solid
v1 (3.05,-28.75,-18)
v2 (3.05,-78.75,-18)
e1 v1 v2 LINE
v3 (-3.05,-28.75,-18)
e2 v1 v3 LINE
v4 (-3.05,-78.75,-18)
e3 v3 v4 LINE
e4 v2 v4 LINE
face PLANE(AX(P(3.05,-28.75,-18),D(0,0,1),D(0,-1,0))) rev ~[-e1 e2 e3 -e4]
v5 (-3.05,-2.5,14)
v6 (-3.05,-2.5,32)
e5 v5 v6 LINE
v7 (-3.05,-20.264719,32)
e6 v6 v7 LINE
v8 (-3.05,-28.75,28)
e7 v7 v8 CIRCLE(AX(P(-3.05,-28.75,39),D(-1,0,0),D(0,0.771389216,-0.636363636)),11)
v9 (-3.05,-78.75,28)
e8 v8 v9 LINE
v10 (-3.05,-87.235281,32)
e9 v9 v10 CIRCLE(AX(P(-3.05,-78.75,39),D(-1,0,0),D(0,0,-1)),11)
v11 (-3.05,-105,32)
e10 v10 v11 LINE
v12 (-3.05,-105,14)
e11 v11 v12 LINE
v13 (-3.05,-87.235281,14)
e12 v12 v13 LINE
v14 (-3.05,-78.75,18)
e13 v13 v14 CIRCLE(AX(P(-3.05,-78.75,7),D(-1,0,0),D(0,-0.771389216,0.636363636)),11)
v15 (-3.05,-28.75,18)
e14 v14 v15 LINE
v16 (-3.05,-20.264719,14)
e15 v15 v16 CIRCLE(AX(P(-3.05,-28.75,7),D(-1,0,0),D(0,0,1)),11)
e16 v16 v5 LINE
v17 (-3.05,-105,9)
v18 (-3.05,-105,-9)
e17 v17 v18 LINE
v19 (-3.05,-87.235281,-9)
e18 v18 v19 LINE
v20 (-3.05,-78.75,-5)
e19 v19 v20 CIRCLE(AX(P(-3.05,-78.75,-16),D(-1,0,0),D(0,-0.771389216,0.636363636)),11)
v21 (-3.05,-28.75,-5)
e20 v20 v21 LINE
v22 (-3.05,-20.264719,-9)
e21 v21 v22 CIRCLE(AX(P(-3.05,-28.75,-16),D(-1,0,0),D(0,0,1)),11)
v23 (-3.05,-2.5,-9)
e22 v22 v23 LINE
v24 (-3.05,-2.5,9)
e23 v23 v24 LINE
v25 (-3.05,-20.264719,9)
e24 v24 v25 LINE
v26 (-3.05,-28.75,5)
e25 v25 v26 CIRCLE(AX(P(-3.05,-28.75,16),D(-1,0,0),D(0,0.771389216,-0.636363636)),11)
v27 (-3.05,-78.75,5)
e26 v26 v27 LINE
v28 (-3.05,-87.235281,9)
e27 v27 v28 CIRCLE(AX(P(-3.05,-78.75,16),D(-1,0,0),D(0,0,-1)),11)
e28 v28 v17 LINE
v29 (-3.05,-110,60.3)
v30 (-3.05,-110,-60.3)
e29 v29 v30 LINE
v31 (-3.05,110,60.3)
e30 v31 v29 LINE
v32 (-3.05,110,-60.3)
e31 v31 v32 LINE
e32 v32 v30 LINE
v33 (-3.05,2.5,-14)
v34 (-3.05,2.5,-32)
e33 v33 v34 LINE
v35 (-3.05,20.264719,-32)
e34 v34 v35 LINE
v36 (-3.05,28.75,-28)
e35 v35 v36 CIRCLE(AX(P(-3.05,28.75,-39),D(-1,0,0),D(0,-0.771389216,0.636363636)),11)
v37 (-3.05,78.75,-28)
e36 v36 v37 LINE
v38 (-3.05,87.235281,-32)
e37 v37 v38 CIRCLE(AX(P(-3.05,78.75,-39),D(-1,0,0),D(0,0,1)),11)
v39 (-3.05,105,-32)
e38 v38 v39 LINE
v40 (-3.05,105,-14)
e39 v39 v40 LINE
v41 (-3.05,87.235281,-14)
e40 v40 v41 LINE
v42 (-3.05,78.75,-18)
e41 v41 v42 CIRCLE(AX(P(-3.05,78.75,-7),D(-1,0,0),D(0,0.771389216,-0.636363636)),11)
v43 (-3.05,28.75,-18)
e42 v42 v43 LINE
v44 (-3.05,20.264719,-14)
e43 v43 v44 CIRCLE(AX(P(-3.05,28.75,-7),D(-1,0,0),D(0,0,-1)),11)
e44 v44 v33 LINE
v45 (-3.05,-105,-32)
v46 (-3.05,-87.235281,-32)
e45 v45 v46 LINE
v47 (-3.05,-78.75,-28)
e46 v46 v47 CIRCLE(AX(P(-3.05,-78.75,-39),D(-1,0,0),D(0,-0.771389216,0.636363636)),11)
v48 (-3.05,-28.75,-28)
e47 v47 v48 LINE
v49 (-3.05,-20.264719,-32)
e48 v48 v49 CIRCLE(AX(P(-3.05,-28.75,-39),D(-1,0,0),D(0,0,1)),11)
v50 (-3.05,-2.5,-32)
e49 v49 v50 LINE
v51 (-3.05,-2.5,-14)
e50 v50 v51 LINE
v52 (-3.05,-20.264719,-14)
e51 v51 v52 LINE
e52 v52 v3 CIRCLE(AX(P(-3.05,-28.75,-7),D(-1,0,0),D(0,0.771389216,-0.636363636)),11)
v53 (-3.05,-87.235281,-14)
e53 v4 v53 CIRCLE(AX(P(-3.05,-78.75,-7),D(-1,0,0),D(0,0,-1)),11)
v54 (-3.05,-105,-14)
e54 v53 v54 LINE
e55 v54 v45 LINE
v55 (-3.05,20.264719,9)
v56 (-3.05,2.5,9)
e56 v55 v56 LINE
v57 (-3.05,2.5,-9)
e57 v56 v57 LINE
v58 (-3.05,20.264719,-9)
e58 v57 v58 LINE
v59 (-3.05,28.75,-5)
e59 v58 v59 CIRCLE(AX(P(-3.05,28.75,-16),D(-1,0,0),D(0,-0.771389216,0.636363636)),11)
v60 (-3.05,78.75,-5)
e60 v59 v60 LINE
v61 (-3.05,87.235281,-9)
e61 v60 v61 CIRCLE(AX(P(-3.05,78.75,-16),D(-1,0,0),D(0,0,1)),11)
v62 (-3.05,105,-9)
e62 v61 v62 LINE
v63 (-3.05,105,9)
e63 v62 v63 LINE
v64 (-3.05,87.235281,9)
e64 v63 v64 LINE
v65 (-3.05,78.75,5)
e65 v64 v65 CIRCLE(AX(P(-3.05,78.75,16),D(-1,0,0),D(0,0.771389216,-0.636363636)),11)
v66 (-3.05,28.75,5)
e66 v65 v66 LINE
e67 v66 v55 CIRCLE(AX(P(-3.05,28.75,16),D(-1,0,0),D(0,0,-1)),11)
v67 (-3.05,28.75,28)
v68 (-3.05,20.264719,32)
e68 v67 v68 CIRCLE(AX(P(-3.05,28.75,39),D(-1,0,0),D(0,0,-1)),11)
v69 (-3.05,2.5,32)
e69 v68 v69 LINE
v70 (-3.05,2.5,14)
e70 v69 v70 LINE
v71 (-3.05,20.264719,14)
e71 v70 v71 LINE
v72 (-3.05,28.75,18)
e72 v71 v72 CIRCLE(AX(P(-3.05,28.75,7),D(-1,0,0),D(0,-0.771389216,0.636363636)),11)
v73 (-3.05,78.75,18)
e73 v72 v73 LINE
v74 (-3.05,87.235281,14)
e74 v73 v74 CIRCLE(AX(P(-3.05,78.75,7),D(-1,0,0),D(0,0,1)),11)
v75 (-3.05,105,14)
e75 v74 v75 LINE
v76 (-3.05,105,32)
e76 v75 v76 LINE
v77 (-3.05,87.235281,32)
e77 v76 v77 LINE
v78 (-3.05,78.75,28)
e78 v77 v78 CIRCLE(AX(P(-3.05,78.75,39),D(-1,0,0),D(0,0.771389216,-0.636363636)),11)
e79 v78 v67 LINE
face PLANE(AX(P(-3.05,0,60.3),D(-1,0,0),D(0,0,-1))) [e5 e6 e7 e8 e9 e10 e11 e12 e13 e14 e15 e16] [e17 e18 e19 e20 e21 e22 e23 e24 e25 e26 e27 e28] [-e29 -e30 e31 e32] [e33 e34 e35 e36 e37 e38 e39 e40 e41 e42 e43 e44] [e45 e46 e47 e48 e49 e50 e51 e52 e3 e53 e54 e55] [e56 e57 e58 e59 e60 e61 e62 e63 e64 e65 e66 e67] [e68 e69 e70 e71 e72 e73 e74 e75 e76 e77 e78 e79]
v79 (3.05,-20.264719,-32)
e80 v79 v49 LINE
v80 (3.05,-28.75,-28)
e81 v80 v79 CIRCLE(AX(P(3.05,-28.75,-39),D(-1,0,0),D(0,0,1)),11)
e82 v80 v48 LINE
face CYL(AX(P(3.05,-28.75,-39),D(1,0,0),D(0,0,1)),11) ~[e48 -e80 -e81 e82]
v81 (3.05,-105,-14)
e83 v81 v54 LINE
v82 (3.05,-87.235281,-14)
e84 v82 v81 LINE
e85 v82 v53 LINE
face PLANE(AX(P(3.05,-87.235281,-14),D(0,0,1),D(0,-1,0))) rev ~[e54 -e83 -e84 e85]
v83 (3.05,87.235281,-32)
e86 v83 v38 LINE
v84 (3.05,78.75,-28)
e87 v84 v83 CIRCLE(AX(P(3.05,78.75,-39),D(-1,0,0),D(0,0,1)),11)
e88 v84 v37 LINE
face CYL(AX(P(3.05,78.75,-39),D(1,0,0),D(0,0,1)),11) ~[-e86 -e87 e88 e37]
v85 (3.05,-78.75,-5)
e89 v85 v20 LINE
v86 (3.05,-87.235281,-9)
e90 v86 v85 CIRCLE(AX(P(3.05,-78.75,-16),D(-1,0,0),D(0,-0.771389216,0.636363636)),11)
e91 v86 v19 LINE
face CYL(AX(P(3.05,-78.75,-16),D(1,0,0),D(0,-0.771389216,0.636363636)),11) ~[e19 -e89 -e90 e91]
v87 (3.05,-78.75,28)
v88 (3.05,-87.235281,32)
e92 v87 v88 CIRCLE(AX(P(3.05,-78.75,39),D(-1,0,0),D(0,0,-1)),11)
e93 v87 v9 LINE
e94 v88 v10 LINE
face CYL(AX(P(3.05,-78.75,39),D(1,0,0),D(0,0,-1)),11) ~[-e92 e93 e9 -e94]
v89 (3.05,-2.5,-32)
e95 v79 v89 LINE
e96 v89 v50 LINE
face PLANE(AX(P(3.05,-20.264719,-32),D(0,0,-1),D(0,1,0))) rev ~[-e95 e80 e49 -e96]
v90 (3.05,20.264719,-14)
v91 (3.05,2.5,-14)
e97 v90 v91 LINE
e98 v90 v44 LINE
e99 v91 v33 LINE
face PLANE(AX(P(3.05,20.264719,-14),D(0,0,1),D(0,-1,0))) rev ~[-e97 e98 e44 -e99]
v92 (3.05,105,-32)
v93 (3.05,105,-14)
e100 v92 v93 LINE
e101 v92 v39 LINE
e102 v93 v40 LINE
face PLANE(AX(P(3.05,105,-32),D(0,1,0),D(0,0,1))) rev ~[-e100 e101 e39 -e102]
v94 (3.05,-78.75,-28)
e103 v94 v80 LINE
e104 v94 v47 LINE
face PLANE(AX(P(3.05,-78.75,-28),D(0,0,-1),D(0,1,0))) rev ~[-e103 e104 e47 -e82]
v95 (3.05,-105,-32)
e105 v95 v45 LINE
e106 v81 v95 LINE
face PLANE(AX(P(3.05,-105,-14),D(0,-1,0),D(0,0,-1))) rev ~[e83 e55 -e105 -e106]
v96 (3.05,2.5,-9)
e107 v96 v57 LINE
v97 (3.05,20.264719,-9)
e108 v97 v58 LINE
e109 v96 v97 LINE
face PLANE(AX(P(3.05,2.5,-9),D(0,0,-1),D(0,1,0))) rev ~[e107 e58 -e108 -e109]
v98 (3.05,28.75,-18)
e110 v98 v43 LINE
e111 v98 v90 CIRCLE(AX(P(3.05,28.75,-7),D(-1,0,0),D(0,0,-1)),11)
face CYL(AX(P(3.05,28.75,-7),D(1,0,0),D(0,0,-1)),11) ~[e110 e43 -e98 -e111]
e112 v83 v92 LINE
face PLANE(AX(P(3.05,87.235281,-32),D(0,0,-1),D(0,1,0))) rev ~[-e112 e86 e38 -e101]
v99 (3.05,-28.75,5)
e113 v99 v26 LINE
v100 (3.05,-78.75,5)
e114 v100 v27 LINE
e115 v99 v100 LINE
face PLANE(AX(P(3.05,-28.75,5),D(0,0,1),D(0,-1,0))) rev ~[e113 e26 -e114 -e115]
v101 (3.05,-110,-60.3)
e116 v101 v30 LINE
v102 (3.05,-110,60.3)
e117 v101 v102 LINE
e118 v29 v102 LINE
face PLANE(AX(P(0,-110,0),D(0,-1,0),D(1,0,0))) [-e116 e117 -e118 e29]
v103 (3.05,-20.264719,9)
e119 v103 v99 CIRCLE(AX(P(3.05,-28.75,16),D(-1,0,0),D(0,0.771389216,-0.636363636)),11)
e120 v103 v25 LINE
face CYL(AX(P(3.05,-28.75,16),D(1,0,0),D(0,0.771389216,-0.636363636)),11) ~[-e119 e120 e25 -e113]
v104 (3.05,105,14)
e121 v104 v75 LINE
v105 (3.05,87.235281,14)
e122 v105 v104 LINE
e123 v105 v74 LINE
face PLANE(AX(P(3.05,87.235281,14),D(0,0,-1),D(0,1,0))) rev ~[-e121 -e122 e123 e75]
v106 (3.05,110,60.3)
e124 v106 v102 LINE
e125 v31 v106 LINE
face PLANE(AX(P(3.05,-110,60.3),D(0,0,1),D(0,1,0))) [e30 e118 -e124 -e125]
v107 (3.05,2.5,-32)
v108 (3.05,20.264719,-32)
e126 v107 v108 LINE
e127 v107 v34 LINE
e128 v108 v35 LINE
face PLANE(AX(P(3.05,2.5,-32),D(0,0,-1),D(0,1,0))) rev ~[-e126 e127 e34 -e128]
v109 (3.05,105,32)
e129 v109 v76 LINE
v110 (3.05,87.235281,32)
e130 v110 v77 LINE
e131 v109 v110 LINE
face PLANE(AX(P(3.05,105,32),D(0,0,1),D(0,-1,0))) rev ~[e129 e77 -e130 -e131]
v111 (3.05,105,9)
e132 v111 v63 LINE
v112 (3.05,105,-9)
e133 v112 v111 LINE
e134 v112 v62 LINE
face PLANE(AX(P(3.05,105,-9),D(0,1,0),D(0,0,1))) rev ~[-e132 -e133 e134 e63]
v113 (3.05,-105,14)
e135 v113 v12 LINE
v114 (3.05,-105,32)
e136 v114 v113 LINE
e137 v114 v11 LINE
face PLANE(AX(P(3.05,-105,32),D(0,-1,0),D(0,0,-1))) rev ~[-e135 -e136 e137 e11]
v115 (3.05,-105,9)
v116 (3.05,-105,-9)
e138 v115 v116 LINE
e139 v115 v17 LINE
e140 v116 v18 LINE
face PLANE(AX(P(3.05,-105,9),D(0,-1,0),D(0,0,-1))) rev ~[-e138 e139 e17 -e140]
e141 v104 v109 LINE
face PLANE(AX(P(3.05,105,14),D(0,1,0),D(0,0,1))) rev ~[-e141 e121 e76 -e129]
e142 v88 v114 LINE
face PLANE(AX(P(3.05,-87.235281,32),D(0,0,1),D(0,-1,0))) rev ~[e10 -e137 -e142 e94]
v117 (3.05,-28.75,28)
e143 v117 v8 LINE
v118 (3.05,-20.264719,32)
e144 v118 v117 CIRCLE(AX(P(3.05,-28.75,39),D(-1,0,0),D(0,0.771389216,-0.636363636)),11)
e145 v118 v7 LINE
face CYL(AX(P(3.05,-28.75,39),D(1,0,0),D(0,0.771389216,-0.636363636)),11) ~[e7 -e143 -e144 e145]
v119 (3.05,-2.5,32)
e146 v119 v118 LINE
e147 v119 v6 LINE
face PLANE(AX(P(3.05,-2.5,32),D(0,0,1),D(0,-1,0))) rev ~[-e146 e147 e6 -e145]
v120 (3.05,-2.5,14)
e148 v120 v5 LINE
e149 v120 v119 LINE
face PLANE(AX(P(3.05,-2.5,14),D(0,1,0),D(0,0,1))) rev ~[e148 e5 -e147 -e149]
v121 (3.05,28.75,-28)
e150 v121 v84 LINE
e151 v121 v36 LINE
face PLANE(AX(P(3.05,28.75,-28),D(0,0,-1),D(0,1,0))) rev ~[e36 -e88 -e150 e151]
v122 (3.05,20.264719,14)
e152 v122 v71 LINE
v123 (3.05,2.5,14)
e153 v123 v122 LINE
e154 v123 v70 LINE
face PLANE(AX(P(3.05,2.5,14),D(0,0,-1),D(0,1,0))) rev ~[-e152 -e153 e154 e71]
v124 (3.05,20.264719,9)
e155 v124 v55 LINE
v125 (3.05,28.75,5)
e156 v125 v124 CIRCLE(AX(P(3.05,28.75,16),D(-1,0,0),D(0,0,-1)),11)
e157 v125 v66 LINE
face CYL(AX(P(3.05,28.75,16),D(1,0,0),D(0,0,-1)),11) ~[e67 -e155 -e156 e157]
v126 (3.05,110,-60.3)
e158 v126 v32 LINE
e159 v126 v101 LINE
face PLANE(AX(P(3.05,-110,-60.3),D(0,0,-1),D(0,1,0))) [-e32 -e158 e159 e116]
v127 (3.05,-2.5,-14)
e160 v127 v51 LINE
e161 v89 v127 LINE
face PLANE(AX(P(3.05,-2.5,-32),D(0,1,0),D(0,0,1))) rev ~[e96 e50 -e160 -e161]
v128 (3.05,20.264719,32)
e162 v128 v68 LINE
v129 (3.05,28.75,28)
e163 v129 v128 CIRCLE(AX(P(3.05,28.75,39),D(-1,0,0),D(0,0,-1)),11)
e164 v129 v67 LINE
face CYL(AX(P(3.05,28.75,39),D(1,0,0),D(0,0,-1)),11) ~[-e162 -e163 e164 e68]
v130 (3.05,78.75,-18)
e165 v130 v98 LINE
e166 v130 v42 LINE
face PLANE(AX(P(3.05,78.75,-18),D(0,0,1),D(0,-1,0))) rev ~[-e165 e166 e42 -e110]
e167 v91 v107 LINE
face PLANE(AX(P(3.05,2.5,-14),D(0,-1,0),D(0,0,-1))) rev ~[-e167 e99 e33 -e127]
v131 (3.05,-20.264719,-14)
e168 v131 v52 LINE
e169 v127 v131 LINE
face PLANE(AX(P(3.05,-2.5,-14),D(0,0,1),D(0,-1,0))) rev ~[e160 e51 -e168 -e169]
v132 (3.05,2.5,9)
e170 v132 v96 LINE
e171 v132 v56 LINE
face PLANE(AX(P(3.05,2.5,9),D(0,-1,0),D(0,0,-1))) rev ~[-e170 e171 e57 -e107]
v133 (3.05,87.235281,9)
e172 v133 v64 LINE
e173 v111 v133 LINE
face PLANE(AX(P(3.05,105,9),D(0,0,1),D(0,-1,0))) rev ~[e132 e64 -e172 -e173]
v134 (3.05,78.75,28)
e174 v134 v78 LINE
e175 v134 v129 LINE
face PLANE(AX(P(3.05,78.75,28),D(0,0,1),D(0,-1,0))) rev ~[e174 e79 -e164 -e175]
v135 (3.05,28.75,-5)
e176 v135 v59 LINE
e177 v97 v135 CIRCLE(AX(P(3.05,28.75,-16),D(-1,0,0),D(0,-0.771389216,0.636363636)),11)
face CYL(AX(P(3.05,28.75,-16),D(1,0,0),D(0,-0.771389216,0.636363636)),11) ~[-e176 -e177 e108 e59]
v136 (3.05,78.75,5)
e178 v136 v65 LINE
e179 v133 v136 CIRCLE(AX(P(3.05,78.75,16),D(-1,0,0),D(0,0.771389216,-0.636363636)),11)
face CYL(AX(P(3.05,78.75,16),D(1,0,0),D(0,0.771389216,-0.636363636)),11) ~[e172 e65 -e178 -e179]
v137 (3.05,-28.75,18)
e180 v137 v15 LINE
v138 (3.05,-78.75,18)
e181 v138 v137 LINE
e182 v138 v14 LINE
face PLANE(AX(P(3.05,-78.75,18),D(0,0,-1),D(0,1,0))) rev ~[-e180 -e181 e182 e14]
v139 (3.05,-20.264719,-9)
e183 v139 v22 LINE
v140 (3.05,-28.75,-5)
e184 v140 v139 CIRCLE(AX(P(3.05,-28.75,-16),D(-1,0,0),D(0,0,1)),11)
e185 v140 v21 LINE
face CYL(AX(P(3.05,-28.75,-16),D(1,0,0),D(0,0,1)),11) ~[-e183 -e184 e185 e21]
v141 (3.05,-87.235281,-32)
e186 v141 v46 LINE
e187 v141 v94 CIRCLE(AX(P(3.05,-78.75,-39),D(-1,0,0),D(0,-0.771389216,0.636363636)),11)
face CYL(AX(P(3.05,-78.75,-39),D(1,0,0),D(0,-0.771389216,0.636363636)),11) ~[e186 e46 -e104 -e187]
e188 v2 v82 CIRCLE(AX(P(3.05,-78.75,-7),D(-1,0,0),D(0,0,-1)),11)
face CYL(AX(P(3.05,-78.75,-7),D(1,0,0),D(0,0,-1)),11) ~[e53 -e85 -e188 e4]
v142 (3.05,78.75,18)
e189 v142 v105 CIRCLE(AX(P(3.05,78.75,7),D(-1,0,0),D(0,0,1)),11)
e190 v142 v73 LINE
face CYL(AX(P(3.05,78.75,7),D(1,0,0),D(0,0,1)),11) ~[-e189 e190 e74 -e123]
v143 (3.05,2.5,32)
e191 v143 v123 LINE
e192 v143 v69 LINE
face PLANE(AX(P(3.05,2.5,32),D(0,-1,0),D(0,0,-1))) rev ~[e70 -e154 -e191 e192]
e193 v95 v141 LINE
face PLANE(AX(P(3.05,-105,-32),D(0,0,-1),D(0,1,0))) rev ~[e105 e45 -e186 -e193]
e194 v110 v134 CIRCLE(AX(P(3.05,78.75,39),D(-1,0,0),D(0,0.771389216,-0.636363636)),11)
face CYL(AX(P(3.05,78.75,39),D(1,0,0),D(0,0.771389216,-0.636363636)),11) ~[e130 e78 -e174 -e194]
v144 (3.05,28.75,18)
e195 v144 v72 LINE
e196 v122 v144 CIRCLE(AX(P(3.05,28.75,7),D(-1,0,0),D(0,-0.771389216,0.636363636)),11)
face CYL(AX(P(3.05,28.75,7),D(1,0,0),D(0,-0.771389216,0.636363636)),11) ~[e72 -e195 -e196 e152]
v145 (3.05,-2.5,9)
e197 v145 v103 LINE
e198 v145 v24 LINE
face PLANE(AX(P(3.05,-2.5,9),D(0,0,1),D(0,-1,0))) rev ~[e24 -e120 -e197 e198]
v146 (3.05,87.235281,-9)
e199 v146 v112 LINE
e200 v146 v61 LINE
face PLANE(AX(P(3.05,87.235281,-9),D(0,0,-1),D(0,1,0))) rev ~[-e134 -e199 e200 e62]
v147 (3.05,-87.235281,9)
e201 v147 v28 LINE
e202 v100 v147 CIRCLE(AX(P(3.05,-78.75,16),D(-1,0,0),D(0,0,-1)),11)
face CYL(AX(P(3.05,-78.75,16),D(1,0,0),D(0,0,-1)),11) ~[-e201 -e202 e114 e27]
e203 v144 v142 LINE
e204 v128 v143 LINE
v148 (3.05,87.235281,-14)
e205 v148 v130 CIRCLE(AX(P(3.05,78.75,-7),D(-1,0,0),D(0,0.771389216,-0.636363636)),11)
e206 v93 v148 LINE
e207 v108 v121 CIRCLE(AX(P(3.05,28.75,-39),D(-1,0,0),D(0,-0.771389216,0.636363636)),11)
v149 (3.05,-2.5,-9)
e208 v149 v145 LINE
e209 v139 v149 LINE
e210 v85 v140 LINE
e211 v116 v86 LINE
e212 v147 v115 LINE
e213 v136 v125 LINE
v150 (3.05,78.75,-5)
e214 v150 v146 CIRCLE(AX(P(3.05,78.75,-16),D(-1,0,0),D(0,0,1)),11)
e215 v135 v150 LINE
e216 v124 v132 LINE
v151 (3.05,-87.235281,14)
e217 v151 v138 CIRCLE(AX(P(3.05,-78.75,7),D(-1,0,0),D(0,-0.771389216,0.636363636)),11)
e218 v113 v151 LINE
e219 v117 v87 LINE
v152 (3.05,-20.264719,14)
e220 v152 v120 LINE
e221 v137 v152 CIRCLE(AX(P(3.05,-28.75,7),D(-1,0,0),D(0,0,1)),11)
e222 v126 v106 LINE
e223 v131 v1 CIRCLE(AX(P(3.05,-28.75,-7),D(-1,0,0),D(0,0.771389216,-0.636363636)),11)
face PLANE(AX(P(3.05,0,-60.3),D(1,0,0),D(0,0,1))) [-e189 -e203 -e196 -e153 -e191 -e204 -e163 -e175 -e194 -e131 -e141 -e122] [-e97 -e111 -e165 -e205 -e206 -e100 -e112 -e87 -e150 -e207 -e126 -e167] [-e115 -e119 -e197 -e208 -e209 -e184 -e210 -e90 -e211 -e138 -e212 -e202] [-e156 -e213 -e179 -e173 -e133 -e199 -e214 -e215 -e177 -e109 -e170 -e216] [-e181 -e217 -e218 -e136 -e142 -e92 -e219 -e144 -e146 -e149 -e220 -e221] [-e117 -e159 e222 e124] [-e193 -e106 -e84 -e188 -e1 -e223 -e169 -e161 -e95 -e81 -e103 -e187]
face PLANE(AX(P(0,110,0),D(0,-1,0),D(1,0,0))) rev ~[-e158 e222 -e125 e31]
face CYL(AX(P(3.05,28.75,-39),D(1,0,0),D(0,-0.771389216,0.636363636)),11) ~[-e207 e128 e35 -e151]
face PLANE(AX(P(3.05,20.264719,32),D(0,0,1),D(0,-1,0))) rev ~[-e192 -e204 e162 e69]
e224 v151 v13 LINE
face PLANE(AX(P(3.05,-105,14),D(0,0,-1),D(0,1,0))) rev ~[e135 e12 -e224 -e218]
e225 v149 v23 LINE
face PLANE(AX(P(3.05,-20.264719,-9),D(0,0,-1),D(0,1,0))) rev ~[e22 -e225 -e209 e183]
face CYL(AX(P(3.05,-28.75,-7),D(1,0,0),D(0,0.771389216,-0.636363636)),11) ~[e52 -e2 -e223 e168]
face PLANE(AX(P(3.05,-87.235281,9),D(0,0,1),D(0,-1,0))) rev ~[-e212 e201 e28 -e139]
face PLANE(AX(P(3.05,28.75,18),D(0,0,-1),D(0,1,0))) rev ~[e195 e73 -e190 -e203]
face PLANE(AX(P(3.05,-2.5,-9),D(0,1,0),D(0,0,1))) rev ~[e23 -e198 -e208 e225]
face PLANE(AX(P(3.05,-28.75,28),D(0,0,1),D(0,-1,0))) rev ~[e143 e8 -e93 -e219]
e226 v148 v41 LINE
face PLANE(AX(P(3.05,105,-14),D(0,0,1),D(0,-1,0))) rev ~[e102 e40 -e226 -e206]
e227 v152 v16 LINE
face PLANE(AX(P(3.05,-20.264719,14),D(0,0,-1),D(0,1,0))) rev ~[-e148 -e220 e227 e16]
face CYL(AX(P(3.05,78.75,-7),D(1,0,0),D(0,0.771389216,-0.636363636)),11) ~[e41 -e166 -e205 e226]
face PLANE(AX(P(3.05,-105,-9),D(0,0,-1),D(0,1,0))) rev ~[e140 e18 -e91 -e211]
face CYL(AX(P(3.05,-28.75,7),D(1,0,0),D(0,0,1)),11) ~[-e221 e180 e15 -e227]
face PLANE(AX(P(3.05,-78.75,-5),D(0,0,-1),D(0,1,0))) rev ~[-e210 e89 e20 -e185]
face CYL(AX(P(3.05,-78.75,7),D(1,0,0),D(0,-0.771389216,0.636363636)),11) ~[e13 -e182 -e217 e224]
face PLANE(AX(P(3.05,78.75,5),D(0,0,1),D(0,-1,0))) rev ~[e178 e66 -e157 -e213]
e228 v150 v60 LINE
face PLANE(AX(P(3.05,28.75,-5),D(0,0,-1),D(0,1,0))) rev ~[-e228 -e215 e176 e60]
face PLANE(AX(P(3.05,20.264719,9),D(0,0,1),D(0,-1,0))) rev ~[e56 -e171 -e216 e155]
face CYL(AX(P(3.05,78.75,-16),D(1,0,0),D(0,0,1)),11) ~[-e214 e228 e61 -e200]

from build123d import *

# Parameters (mm, degrees)
F1_DEPTH = 110
F3_DEPTH = 6.1
F4_W     = 220
F4_H     = 15.7
F5_DEPTH = 100


with BuildPart() as f1:
    # F0 (on Front) → F1 (new body, symmetric)
    with BuildSketch(Plane.XZ):
        with BuildLine():
            ThreePointArc((11.95, -69.2), (5.6567496474, -66.5932503526), (3.05, -60.3))
            Line((3.05, -60.3), (3.05, 60.3))
            ThreePointArc((3.05, 60.3), (5.6567496474, 66.5932503526), (11.95, 69.2))
            Line((11.95, 69.2), (76, 69.2))
            Line((76, 69.2), (76, 76))
            Line((76, 76), (-76, 76))
            Line((-76, 76), (-76, 69.2))
            Line((-76, 69.2), (-11.95, 69.2))
            ThreePointArc((-11.95, 69.2), (-5.6567496474, 66.5932503526), (-3.05, 60.3))
            Line((-3.05, 60.3), (-3.05, -60.3))
            ThreePointArc((-3.05, -60.3), (-5.6567496474, -66.5932503526), (-11.95, -69.2))
            Line((-11.95, -69.2), (-76, -69.2))
            Line((-76, -69.2), (-76, -76))
            Line((-76, -76), (76, -76))
            Line((76, -76), (76, -69.2))
            Line((76, -69.2), (11.95, -69.2))
        make_face()
    extrude(amount=F1_DEPTH, both=True)

    # F2 (on face) → F3 (cut)
    with BuildSketch(Plane.YZ.offset(3.05)):
        with BuildLine():
            Line((-20.2647186258, -9), (-2.5, -9))
            Line((-2.5, -9), (-2.5, 9))
            Line((-2.5, 9), (-20.2647186258, 9))
            ThreePointArc((-20.2647186258, 9), (-24.0595842402, 6.0501256289), (-28.75, 5))
            Line((-28.75, 5), (-78.75, 5))
            ThreePointArc((-78.75, 5), (-83.4404157598, 6.0501256289), (-87.2352813742, 9))
            Line((-87.2352813742, 9), (-105, 9))
            Line((-105, 9), (-105, -9))
            Line((-105, -9), (-87.2352813742, -9))
            ThreePointArc((-87.2352813742, -9), (-83.4404157598, -6.0501256289), (-78.75, -5))
            Line((-78.75, -5), (-28.75, -5))
            ThreePointArc((-28.75, -5), (-24.0595842402, -6.0501256289), (-20.2647186258, -9))
        make_face()
        with BuildLine():
            ThreePointArc((-20.2647186258, 32), (-24.0595842402, 29.0501256289), (-28.75, 28))
            Line((-28.75, 28), (-78.75, 28))
            ThreePointArc((-78.75, 28), (-83.4404157598, 29.0501256289), (-87.2352813742, 32))
            Line((-87.2352813742, 32), (-105, 32))
            Line((-105, 32), (-105, 14))
            Line((-105, 14), (-87.2352813742, 14))
            ThreePointArc((-87.2352813742, 14), (-83.4404157598, 16.9498743711), (-78.75, 18))
            Line((-78.75, 18), (-28.75, 18))
            ThreePointArc((-28.75, 18), (-24.0595842402, 16.9498743711), (-20.2647186258, 14))
            Line((-20.2647186258, 14), (-2.5, 14))
            Line((-2.5, 14), (-2.5, 32))
            Line((-2.5, 32), (-20.2647186258, 32))
        make_face()
        with BuildLine():
            ThreePointArc((-28.75, -28), (-24.0595842402, -29.0501256289), (-20.2647186258, -32))
            Line((-20.2647186258, -32), (-2.5, -32))
            Line((-2.5, -32), (-2.5, -14))
            Line((-2.5, -14), (-20.2647186258, -14))
            ThreePointArc((-20.2647186258, -14), (-24.0595842402, -16.9498743711), (-28.75, -18))
            Line((-28.75, -18), (-78.75, -18))
            ThreePointArc((-78.75, -18), (-83.4404157598, -16.9498743711), (-87.2352813742, -14))
            Line((-87.2352813742, -14), (-105, -14))
            Line((-105, -14), (-105, -32))
            Line((-105, -32), (-87.2352813742, -32))
            ThreePointArc((-87.2352813742, -32), (-83.4404157598, -29.0501256289), (-78.75, -28))
            Line((-78.75, -28), (-28.75, -28))
        make_face()
        with BuildLine():
            Line((78.75, 28), (28.75, 28))
            ThreePointArc((28.75, 28), (24.0595842402, 29.0501256289), (20.2647186258, 32))
            Line((20.2647186258, 32), (2.5, 32))
            Line((2.5, 32), (2.5, 14))
            Line((2.5, 14), (20.2647186258, 14))
            ThreePointArc((20.2647186258, 14), (24.0595842402, 16.9498743711), (28.75, 18))
            Line((28.75, 18), (78.75, 18))
            ThreePointArc((78.75, 18), (83.4404157598, 16.9498743711), (87.2352813742, 14))
            Line((87.2352813742, 14), (105, 14))
            Line((105, 14), (105, 32))
            Line((105, 32), (87.2352813742, 32))
            ThreePointArc((87.2352813742, 32), (83.4404157598, 29.0501256289), (78.75, 28))
        make_face()
        with BuildLine():
            ThreePointArc((20.2647186258, -32), (24.0595842402, -29.0501256289), (28.75, -28))
            Line((28.75, -28), (78.75, -28))
            ThreePointArc((78.75, -28), (83.4404157598, -29.0501256289), (87.2352813742, -32))
            Line((87.2352813742, -32), (105, -32))
            Line((105, -32), (105, -14))
            Line((105, -14), (87.2352813742, -14))
            ThreePointArc((87.2352813742, -14), (83.4404157598, -16.9498743711), (78.75, -18))
            Line((78.75, -18), (28.75, -18))
            ThreePointArc((28.75, -18), (24.0595842402, -16.9498743711), (20.2647186258, -14))
            Line((20.2647186258, -14), (2.5, -14))
            Line((2.5, -14), (2.5, -32))
            Line((2.5, -32), (20.2647186258, -32))
        make_face()
        with BuildLine():
            ThreePointArc((20.2647186258, -9), (24.0595842402, -6.0501256289), (28.75, -5))
            Line((28.75, -5), (78.75, -5))
            ThreePointArc((78.75, -5), (83.4404157598, -6.0501256289), (87.2352813742, -9))
            Line((87.2352813742, -9), (105, -9))
            Line((105, -9), (105, 9))
            Line((105, 9), (87.2352813742, 9))
            ThreePointArc((87.2352813742, 9), (83.4404157598, 6.0501256289), (78.75, 5))
            Line((78.75, 5), (28.75, 5))
            ThreePointArc((28.75, 5), (24.0595842402, 6.0501256289), (20.2647186258, 9))
            Line((20.2647186258, 9), (2.5, 9))
            Line((2.5, 9), (2.5, -9))
            Line((2.5, -9), (20.2647186258, -9))
        make_face()
    extrude(amount=-F3_DEPTH, mode=Mode.SUBTRACT)

    # F4 (on face) → F5 (cut, symmetric)
    with BuildSketch(Plane.YZ.offset(3.05)):
        with Locations((0, 68.15)):
            Rectangle(F4_W, F4_H)
        with Locations((0, -68.15)):
            Rectangle(F4_W, F4_H)
    extrude(amount=F5_DEPTH, both=True, mode=Mode.SUBTRACT)


solid = f1.part
